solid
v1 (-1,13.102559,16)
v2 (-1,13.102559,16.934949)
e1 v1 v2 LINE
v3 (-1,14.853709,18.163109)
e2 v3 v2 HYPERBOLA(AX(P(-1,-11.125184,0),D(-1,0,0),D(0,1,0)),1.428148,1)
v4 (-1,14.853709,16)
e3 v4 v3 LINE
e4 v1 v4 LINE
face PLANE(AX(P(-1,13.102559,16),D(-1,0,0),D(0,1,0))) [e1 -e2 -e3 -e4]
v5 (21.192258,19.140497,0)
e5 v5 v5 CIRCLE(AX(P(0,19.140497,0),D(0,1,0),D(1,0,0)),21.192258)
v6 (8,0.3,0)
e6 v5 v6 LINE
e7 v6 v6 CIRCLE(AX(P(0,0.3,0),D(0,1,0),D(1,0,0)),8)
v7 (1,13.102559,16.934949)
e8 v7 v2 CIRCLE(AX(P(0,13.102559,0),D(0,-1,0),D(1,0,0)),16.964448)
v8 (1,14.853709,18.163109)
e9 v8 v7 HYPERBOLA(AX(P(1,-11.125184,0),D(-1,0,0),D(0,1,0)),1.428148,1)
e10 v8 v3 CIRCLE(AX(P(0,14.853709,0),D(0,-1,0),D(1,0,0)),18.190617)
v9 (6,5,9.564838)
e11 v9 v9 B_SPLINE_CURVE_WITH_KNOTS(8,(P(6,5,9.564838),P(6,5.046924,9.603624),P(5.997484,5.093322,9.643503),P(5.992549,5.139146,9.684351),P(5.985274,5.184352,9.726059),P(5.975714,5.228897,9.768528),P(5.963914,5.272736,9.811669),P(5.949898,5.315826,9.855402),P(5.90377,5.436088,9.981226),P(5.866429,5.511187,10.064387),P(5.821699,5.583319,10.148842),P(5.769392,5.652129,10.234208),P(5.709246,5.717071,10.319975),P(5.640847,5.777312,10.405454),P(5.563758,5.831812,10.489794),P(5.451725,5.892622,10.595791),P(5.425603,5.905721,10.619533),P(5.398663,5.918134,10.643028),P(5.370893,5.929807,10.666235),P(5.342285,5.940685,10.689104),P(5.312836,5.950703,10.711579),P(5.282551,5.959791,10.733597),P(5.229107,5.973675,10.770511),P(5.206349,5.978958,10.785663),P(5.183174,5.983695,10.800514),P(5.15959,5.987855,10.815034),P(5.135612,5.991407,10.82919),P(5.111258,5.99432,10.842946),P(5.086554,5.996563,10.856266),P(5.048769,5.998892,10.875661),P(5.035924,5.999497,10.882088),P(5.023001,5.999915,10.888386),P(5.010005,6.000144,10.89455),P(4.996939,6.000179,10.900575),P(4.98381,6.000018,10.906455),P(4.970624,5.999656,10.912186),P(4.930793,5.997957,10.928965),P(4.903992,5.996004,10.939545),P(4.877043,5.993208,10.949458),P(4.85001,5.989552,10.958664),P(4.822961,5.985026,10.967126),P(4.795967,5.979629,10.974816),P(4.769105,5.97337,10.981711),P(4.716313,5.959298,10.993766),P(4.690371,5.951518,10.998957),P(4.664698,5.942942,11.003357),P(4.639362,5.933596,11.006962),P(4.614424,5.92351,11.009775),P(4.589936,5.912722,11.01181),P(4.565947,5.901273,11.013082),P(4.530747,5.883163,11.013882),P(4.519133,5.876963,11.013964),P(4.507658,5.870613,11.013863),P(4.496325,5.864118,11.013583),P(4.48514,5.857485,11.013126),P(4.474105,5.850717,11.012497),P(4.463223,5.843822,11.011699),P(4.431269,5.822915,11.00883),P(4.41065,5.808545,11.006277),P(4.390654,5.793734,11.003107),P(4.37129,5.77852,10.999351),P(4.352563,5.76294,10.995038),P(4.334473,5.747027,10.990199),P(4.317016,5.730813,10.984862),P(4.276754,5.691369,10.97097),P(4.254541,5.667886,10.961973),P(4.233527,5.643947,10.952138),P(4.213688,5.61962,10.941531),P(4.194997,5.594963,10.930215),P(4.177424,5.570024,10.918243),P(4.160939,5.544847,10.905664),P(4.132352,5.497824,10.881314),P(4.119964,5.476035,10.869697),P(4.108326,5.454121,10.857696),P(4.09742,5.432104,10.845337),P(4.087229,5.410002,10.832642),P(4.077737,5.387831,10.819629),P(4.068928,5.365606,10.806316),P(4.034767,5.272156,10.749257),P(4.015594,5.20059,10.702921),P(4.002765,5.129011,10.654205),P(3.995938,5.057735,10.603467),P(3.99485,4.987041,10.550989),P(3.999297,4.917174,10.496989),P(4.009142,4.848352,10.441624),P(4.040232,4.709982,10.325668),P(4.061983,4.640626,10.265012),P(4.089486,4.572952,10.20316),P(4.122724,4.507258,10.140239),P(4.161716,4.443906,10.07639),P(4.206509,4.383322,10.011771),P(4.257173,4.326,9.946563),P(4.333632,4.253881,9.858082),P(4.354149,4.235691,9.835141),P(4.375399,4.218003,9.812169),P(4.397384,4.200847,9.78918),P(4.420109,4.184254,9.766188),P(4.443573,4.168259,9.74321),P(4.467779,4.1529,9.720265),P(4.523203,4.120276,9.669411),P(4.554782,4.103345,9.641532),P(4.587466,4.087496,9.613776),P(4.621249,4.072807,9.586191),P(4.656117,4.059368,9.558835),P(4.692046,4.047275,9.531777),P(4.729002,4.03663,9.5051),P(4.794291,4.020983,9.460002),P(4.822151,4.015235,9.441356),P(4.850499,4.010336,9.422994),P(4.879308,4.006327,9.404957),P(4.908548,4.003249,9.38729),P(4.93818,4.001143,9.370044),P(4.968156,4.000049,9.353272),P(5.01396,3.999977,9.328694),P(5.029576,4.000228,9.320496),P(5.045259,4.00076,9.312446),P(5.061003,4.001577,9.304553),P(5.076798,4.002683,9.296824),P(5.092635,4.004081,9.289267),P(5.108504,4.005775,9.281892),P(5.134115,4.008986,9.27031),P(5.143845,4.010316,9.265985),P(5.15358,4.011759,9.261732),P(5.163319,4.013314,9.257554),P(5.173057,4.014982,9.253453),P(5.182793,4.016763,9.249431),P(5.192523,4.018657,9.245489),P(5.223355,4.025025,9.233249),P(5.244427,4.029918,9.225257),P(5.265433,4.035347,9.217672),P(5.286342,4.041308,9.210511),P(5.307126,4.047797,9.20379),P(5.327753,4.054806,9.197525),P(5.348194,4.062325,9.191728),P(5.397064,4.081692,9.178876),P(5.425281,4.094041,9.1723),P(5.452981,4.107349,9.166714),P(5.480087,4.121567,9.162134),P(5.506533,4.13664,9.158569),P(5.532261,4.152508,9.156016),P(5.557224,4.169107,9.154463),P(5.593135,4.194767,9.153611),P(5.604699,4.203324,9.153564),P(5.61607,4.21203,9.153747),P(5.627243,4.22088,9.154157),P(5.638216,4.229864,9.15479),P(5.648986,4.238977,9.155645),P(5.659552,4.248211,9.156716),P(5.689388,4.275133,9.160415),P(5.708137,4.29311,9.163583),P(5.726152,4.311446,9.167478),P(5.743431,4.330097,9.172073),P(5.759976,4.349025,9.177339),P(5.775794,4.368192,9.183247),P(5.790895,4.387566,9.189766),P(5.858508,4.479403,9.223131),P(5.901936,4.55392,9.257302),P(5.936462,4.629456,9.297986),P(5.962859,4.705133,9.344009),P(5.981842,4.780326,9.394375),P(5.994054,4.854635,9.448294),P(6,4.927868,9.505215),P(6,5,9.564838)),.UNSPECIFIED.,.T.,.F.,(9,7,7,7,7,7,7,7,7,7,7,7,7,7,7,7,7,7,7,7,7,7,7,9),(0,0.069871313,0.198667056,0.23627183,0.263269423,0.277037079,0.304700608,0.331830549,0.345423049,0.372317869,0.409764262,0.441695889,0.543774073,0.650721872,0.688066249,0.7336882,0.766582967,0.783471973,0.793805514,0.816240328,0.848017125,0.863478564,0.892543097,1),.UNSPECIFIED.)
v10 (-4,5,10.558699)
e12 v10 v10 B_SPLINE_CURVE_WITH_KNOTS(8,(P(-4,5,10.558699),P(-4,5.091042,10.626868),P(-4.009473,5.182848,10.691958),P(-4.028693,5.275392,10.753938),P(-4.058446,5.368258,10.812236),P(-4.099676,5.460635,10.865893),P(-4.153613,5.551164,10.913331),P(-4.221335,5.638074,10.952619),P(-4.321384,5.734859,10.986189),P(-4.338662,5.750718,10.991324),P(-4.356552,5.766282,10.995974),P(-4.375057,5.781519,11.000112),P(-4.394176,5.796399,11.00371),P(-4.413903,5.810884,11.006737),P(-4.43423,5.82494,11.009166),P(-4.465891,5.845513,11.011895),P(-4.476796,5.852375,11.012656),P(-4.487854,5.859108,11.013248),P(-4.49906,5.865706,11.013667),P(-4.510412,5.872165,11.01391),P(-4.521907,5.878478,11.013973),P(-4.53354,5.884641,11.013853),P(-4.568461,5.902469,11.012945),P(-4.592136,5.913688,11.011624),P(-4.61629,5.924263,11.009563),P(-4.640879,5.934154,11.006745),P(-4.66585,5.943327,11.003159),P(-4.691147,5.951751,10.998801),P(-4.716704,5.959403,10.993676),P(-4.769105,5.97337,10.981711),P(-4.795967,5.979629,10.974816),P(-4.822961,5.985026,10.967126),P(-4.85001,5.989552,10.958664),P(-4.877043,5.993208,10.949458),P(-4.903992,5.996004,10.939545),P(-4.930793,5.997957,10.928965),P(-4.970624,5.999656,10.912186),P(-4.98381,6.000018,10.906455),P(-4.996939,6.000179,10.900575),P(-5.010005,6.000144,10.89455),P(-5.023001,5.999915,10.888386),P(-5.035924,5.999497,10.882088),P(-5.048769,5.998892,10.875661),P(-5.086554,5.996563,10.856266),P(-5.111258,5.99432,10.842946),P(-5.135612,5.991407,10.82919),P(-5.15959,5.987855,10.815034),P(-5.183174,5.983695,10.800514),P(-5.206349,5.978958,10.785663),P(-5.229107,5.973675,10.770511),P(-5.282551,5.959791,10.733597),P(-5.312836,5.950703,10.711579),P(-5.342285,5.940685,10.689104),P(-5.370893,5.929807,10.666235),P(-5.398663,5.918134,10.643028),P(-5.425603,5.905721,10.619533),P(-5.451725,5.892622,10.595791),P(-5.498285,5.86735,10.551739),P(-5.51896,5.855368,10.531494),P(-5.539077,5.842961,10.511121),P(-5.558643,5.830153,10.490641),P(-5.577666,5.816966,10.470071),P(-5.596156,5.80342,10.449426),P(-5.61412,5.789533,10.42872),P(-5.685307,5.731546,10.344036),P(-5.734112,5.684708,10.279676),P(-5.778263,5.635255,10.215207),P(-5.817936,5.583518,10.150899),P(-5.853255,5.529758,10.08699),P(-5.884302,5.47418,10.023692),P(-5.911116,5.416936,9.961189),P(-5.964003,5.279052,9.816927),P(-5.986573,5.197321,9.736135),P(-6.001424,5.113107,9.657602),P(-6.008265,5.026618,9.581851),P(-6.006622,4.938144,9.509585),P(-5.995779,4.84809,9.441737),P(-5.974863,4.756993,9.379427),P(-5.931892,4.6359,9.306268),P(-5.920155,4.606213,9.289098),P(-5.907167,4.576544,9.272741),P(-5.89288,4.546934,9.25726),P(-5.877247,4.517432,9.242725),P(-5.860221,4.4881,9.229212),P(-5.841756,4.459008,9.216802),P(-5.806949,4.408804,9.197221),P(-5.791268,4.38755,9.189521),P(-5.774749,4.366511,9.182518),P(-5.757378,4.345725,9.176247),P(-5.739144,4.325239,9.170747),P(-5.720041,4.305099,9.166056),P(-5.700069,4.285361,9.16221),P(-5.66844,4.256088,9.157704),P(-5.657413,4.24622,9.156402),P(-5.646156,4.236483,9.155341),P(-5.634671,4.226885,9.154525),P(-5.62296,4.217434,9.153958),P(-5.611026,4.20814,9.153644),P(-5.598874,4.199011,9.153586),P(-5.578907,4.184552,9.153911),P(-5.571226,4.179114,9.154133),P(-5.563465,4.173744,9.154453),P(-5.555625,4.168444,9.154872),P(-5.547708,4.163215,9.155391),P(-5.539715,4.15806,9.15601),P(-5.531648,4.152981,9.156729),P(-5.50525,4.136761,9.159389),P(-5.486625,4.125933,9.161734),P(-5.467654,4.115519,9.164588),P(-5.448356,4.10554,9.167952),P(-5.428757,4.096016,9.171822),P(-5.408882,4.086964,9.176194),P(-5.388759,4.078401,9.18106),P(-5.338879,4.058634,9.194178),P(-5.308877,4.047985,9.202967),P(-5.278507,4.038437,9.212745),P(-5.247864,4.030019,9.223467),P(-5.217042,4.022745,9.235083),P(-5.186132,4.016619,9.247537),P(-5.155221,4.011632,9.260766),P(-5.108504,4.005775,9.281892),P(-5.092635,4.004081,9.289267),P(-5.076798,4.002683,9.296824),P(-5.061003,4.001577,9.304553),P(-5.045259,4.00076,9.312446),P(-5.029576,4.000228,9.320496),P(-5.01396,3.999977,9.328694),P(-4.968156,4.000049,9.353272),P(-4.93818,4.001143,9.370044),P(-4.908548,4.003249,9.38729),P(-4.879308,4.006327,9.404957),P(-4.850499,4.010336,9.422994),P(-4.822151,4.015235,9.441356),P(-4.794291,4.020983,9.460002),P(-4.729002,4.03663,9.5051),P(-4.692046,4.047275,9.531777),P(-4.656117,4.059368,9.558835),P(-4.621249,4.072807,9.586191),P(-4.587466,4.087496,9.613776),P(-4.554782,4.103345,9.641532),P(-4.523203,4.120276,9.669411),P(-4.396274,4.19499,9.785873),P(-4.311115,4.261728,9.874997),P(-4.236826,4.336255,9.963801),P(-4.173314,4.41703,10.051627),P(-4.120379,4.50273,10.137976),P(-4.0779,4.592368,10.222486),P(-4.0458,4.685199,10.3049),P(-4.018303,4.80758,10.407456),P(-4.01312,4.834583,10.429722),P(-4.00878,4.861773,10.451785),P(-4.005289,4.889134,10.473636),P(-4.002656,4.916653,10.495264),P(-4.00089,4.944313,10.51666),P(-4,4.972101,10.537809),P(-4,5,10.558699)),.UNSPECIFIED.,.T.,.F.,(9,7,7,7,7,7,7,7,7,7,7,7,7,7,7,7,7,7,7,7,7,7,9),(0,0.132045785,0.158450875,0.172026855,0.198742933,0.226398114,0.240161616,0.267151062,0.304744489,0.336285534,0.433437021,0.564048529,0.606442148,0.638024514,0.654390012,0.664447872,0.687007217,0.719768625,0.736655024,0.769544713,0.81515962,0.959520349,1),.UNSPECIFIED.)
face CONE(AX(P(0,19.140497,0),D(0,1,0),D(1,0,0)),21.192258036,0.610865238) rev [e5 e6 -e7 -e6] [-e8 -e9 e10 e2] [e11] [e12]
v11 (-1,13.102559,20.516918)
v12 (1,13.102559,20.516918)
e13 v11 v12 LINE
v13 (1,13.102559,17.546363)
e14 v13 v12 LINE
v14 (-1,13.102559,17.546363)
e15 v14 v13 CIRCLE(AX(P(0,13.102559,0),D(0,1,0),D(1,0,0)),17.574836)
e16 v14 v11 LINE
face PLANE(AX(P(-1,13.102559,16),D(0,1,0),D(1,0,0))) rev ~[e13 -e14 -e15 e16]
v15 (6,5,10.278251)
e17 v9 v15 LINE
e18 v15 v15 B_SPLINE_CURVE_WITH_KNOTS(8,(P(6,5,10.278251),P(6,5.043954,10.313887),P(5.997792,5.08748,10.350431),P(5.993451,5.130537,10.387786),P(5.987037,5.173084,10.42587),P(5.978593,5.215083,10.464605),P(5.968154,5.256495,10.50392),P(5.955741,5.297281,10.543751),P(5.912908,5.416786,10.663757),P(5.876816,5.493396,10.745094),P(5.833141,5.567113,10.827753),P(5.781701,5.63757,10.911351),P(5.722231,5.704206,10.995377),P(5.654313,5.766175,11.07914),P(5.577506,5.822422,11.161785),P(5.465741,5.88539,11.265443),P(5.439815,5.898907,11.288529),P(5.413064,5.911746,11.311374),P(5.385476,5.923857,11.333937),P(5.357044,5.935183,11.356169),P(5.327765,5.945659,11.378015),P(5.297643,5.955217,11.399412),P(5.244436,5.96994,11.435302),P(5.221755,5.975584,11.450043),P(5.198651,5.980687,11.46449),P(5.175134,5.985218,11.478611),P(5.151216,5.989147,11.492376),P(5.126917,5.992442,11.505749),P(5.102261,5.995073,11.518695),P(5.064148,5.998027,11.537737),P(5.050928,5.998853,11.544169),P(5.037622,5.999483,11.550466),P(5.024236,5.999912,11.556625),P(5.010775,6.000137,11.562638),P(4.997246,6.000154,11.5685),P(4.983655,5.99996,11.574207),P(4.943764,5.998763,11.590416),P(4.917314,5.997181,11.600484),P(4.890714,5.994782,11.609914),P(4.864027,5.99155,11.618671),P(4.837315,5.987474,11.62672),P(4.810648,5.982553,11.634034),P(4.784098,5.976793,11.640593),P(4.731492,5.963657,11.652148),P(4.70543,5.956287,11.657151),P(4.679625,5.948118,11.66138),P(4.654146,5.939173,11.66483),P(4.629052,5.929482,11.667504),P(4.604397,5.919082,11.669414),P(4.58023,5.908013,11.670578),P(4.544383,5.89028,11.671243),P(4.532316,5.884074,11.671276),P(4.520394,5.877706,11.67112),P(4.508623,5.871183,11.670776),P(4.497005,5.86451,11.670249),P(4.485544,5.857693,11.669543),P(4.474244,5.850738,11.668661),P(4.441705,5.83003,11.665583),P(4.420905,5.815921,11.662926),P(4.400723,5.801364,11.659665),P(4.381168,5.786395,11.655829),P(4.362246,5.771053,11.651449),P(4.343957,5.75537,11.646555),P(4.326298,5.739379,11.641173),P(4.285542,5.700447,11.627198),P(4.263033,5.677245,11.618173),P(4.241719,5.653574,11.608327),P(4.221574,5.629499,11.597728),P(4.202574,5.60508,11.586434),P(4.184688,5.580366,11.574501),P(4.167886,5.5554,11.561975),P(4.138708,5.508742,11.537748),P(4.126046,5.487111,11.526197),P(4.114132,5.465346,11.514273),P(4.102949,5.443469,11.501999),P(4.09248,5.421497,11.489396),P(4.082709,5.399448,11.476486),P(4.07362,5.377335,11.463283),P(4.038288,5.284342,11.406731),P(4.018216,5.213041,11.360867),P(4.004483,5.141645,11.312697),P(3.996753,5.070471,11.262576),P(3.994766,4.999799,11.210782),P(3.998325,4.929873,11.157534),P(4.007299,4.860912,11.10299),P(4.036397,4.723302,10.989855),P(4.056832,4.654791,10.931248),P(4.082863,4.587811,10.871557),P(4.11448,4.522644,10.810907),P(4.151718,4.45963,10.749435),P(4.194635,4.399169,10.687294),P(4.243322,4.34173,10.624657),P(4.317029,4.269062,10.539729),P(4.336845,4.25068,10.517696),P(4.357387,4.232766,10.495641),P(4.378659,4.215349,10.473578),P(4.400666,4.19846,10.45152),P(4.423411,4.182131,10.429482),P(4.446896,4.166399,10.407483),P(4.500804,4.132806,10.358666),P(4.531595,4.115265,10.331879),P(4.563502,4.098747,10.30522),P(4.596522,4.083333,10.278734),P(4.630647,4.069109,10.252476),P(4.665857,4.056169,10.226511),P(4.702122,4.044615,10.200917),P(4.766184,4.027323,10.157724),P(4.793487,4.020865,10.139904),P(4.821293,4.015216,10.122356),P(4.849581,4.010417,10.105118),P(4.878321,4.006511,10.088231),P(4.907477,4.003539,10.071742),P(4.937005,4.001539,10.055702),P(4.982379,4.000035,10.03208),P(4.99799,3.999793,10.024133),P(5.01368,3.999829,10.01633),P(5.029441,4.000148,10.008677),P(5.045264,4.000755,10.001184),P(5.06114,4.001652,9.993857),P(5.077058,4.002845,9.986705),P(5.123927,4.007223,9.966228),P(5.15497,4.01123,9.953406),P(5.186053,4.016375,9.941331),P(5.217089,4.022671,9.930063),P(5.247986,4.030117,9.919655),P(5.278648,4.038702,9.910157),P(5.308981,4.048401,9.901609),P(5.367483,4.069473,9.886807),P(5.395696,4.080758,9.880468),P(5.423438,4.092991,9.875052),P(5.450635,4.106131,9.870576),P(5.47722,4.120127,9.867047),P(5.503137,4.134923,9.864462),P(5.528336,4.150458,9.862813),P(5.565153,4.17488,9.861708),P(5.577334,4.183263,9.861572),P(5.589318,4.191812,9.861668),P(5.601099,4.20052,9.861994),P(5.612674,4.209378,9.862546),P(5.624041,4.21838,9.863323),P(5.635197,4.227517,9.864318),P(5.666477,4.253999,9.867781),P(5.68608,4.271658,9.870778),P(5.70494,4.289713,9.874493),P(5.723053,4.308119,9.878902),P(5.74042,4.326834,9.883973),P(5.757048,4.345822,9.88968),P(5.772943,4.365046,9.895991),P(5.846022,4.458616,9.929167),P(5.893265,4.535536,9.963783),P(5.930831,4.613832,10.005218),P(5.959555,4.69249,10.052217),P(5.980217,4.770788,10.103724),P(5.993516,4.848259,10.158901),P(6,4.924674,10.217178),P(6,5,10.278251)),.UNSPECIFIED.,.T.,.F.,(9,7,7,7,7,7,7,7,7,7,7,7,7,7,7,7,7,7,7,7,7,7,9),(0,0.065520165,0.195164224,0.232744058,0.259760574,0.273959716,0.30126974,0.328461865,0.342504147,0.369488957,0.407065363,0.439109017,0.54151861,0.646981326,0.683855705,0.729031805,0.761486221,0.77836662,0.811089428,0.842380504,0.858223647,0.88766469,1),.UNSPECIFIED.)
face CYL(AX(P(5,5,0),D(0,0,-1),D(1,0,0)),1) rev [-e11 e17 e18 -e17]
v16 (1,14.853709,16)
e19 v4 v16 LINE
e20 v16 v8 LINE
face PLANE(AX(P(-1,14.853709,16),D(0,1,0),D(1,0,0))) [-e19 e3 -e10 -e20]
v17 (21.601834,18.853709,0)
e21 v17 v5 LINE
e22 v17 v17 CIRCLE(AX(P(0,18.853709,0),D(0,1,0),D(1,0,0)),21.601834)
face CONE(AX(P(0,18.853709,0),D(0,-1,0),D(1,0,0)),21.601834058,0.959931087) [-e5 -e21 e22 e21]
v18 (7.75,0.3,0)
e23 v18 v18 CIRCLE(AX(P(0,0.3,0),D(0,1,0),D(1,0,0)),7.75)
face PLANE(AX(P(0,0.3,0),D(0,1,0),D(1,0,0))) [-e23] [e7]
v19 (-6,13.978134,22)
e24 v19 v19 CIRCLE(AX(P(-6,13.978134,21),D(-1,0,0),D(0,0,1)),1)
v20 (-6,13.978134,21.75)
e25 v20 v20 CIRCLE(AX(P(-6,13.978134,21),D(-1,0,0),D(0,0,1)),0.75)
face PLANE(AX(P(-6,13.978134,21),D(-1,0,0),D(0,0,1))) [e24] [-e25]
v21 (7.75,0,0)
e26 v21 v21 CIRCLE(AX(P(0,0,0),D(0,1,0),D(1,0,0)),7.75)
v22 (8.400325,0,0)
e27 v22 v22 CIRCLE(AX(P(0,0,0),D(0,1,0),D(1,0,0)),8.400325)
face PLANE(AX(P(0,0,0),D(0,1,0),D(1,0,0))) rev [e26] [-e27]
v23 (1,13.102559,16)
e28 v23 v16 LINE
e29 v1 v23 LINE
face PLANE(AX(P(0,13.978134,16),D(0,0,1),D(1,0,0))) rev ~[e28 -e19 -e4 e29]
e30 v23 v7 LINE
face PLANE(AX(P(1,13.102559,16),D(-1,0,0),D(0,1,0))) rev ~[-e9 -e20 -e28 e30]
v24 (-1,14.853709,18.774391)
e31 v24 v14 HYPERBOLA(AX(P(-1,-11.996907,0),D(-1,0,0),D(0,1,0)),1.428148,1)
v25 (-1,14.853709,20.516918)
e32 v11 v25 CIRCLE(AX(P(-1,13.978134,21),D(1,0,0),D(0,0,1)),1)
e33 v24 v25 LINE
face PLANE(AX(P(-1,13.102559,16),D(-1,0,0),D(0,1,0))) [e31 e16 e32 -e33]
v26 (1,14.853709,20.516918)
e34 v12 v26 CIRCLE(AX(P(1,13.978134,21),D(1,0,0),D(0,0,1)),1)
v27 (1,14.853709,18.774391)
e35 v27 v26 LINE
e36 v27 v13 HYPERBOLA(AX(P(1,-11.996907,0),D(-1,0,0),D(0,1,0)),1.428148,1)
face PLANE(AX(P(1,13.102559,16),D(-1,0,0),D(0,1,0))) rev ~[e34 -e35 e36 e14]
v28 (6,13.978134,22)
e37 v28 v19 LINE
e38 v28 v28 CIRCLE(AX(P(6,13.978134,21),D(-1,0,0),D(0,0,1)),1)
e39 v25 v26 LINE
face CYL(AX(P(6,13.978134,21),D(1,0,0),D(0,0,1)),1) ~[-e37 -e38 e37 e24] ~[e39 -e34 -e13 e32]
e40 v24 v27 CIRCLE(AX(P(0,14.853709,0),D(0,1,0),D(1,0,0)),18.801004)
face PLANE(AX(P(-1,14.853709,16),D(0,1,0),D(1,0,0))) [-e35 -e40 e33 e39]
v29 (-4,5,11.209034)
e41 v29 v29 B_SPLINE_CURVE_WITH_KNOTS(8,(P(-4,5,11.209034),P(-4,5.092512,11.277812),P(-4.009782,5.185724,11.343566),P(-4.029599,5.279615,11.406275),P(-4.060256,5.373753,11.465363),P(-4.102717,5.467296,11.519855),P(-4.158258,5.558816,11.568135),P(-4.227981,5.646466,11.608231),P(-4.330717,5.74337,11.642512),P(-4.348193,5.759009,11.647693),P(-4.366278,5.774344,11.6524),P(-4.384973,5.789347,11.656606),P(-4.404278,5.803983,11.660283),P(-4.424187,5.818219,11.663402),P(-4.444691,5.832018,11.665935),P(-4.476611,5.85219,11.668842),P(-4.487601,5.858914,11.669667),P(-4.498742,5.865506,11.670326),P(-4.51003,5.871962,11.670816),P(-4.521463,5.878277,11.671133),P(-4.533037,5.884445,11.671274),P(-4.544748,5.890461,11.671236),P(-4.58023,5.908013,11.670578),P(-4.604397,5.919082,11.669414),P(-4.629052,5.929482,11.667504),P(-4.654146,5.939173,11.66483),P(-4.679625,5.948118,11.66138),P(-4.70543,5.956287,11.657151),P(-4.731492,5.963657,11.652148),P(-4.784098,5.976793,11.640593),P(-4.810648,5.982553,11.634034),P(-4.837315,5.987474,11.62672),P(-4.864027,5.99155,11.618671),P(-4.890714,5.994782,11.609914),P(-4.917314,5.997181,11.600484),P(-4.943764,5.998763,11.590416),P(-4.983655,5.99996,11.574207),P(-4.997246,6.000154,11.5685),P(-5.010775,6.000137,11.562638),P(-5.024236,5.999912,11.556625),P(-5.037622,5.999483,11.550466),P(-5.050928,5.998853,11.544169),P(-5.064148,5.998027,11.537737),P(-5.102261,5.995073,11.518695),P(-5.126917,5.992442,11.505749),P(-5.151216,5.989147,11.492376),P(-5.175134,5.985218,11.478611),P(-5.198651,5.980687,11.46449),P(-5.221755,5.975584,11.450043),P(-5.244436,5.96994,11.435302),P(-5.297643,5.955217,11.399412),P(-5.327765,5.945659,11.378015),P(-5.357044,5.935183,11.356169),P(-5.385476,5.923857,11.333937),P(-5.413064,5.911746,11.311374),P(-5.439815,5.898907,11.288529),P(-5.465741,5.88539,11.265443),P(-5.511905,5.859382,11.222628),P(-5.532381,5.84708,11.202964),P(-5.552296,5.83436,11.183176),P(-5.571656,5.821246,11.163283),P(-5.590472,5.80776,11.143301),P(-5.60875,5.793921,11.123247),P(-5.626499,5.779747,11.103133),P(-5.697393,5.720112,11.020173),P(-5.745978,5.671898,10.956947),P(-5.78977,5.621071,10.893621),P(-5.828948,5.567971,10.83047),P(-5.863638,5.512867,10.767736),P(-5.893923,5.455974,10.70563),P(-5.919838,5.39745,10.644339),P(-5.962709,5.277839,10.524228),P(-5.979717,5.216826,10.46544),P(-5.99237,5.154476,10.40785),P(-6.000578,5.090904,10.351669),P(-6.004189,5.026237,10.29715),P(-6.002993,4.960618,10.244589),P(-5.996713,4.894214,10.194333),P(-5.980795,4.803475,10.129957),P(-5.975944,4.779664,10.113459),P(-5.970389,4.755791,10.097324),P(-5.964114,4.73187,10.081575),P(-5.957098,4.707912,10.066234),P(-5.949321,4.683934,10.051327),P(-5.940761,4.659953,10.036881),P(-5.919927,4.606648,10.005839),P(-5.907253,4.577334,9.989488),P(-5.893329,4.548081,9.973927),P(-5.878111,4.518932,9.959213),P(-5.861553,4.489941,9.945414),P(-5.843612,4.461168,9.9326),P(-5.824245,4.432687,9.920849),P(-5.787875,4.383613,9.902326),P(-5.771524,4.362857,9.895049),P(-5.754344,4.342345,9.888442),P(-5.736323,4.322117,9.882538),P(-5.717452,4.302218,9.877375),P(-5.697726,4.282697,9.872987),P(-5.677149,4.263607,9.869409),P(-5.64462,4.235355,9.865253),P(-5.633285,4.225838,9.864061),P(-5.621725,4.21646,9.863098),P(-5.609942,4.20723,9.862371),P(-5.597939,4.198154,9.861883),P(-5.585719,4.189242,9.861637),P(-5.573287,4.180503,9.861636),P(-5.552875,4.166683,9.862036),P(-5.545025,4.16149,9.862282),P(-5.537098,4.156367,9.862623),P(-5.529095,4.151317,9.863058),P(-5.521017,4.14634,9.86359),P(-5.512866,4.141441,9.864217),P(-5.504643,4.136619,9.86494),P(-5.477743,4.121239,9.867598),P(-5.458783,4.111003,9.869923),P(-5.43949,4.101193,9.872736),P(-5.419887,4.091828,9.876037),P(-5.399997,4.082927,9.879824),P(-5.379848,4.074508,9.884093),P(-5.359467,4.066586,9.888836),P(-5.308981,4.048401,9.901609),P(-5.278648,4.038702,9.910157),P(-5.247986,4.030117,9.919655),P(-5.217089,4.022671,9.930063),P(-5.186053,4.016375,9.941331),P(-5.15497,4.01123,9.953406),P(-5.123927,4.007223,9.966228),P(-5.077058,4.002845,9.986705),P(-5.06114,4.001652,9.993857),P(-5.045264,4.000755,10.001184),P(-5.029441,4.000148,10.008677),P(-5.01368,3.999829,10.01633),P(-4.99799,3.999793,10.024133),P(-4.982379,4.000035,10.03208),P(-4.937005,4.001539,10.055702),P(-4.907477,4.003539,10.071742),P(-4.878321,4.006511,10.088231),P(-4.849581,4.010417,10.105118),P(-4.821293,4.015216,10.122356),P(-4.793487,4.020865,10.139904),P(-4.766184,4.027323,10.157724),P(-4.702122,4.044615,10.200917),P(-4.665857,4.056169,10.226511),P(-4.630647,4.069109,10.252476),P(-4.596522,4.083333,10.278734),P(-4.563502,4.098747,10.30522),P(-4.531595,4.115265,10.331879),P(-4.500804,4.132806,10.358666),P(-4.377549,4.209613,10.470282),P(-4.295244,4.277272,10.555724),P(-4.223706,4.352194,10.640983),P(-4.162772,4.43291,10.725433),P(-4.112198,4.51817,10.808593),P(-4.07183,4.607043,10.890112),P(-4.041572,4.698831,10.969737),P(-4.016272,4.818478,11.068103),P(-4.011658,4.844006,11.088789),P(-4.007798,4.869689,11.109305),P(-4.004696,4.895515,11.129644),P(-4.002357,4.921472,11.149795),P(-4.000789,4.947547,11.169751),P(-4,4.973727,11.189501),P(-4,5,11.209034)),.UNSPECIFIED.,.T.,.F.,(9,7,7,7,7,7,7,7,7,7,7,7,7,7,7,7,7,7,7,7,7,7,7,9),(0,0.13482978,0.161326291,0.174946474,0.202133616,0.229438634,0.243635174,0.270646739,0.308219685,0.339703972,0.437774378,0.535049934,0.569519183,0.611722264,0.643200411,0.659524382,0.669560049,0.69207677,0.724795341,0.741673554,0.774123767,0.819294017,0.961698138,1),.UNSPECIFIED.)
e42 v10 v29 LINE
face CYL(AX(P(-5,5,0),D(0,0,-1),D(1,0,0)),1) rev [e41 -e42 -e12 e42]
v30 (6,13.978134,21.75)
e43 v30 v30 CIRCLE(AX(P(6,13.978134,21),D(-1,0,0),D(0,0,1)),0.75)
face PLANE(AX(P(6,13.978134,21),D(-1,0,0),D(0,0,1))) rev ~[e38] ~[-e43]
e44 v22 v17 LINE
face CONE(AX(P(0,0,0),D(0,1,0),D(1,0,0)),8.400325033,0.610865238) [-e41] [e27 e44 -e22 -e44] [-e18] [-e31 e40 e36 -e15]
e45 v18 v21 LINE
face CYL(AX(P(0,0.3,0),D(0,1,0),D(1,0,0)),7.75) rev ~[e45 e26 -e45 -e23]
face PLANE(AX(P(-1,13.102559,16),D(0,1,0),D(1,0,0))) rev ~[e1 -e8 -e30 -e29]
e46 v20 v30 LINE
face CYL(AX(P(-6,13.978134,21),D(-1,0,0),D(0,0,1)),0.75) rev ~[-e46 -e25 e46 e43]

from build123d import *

# Parameters (mm, degrees)
CUT_EXTRUDE1_REACH       = 37.892
SKETCH4_R                = 7.75
BOSS_EXTRUDE1_DEPTH      = 3
BOSS_EXTRUDE1_DEPTH_BACK = 2
BOSS_EXTRUDE1_START      = 18
SKETCH13_W               = 2
SKETCH13_H               = 1.751149917
BOSS_EXTRUDE2_DEPTH      = 5
BOSS_EXTRUDE2_DEPTH_BACK = 7
SKETCH14_R               = 1
SKETCH15_R               = 0.75
CUT_EXTRUDE2_DEPTH       = 15
SKETCH16_R               = 1
CUT_EXTRUDE3_DEPTH       = 20


with BuildPart() as part:
    # Sketch3 → Revolve1 (revolve)
    with BuildSketch(Plane.XY):
        Polygon((8.400325033, 0), (21.601834058, 18.8537088), (21.192258036, 19.140497019), (8, 0.3), (0, 0.3), (0, 0), align=None)
    revolve(axis=Axis((0, 0, 0), (0, 1, 0)))

    # Sketch4 → Cut-Extrude1 (cut, up to next)
    with BuildSketch(Plane(origin=(0, 0.3, 0), x_dir=(1, 0, 0), z_dir=(0, 1, 0)), mode=Mode.PRIVATE) as cut_extrude1_sk1:
        Circle(SKETCH4_R)
    cut_extrude1_tool1 = extrude(cut_extrude1_sk1.sketch, amount=-CUT_EXTRUDE1_REACH, mode=Mode.PRIVATE) & part.part
    add(cut_extrude1_tool1.solids().sort_by_distance((0, 0.3, 0))[0], mode=Mode.SUBTRACT)

    # Sketch13 → Boss-Extrude1 (add, two sides: drawn at the far end of the back side and taken through both)
    with BuildSketch(Plane.XY.offset(BOSS_EXTRUDE1_START - BOSS_EXTRUDE1_DEPTH_BACK)):
        with Locations((0, 13.978133842)):
            Rectangle(SKETCH13_W, SKETCH13_H)
    extrude(amount=BOSS_EXTRUDE1_DEPTH + BOSS_EXTRUDE1_DEPTH_BACK)

    # Sketch14 → Boss-Extrude2 (add, two sides: drawn at the far end of the back side and taken through both)
    with BuildSketch(Plane.ZY.offset(1).offset(-BOSS_EXTRUDE2_DEPTH_BACK)):
        with Locations((21, 13.978133842)):
            Circle(SKETCH14_R)
    extrude(amount=BOSS_EXTRUDE2_DEPTH + BOSS_EXTRUDE2_DEPTH_BACK)

    # Sketch15 → Cut-Extrude2 (cut)
    with BuildSketch(Plane.ZY.offset(6)):
        with Locations((21, 13.978133842)):
            Circle(SKETCH15_R)
    extrude(amount=-CUT_EXTRUDE2_DEPTH, mode=Mode.SUBTRACT)

    # Sketch16 → Cut-Extrude3 (cut)
    with BuildSketch(Plane.XY):
        with Locations((-5, 5)):
            Circle(SKETCH16_R)
        with Locations((5, 5)):
            Circle(SKETCH16_R)
    extrude(amount=CUT_EXTRUDE3_DEPTH, mode=Mode.SUBTRACT)


solid = part.part
